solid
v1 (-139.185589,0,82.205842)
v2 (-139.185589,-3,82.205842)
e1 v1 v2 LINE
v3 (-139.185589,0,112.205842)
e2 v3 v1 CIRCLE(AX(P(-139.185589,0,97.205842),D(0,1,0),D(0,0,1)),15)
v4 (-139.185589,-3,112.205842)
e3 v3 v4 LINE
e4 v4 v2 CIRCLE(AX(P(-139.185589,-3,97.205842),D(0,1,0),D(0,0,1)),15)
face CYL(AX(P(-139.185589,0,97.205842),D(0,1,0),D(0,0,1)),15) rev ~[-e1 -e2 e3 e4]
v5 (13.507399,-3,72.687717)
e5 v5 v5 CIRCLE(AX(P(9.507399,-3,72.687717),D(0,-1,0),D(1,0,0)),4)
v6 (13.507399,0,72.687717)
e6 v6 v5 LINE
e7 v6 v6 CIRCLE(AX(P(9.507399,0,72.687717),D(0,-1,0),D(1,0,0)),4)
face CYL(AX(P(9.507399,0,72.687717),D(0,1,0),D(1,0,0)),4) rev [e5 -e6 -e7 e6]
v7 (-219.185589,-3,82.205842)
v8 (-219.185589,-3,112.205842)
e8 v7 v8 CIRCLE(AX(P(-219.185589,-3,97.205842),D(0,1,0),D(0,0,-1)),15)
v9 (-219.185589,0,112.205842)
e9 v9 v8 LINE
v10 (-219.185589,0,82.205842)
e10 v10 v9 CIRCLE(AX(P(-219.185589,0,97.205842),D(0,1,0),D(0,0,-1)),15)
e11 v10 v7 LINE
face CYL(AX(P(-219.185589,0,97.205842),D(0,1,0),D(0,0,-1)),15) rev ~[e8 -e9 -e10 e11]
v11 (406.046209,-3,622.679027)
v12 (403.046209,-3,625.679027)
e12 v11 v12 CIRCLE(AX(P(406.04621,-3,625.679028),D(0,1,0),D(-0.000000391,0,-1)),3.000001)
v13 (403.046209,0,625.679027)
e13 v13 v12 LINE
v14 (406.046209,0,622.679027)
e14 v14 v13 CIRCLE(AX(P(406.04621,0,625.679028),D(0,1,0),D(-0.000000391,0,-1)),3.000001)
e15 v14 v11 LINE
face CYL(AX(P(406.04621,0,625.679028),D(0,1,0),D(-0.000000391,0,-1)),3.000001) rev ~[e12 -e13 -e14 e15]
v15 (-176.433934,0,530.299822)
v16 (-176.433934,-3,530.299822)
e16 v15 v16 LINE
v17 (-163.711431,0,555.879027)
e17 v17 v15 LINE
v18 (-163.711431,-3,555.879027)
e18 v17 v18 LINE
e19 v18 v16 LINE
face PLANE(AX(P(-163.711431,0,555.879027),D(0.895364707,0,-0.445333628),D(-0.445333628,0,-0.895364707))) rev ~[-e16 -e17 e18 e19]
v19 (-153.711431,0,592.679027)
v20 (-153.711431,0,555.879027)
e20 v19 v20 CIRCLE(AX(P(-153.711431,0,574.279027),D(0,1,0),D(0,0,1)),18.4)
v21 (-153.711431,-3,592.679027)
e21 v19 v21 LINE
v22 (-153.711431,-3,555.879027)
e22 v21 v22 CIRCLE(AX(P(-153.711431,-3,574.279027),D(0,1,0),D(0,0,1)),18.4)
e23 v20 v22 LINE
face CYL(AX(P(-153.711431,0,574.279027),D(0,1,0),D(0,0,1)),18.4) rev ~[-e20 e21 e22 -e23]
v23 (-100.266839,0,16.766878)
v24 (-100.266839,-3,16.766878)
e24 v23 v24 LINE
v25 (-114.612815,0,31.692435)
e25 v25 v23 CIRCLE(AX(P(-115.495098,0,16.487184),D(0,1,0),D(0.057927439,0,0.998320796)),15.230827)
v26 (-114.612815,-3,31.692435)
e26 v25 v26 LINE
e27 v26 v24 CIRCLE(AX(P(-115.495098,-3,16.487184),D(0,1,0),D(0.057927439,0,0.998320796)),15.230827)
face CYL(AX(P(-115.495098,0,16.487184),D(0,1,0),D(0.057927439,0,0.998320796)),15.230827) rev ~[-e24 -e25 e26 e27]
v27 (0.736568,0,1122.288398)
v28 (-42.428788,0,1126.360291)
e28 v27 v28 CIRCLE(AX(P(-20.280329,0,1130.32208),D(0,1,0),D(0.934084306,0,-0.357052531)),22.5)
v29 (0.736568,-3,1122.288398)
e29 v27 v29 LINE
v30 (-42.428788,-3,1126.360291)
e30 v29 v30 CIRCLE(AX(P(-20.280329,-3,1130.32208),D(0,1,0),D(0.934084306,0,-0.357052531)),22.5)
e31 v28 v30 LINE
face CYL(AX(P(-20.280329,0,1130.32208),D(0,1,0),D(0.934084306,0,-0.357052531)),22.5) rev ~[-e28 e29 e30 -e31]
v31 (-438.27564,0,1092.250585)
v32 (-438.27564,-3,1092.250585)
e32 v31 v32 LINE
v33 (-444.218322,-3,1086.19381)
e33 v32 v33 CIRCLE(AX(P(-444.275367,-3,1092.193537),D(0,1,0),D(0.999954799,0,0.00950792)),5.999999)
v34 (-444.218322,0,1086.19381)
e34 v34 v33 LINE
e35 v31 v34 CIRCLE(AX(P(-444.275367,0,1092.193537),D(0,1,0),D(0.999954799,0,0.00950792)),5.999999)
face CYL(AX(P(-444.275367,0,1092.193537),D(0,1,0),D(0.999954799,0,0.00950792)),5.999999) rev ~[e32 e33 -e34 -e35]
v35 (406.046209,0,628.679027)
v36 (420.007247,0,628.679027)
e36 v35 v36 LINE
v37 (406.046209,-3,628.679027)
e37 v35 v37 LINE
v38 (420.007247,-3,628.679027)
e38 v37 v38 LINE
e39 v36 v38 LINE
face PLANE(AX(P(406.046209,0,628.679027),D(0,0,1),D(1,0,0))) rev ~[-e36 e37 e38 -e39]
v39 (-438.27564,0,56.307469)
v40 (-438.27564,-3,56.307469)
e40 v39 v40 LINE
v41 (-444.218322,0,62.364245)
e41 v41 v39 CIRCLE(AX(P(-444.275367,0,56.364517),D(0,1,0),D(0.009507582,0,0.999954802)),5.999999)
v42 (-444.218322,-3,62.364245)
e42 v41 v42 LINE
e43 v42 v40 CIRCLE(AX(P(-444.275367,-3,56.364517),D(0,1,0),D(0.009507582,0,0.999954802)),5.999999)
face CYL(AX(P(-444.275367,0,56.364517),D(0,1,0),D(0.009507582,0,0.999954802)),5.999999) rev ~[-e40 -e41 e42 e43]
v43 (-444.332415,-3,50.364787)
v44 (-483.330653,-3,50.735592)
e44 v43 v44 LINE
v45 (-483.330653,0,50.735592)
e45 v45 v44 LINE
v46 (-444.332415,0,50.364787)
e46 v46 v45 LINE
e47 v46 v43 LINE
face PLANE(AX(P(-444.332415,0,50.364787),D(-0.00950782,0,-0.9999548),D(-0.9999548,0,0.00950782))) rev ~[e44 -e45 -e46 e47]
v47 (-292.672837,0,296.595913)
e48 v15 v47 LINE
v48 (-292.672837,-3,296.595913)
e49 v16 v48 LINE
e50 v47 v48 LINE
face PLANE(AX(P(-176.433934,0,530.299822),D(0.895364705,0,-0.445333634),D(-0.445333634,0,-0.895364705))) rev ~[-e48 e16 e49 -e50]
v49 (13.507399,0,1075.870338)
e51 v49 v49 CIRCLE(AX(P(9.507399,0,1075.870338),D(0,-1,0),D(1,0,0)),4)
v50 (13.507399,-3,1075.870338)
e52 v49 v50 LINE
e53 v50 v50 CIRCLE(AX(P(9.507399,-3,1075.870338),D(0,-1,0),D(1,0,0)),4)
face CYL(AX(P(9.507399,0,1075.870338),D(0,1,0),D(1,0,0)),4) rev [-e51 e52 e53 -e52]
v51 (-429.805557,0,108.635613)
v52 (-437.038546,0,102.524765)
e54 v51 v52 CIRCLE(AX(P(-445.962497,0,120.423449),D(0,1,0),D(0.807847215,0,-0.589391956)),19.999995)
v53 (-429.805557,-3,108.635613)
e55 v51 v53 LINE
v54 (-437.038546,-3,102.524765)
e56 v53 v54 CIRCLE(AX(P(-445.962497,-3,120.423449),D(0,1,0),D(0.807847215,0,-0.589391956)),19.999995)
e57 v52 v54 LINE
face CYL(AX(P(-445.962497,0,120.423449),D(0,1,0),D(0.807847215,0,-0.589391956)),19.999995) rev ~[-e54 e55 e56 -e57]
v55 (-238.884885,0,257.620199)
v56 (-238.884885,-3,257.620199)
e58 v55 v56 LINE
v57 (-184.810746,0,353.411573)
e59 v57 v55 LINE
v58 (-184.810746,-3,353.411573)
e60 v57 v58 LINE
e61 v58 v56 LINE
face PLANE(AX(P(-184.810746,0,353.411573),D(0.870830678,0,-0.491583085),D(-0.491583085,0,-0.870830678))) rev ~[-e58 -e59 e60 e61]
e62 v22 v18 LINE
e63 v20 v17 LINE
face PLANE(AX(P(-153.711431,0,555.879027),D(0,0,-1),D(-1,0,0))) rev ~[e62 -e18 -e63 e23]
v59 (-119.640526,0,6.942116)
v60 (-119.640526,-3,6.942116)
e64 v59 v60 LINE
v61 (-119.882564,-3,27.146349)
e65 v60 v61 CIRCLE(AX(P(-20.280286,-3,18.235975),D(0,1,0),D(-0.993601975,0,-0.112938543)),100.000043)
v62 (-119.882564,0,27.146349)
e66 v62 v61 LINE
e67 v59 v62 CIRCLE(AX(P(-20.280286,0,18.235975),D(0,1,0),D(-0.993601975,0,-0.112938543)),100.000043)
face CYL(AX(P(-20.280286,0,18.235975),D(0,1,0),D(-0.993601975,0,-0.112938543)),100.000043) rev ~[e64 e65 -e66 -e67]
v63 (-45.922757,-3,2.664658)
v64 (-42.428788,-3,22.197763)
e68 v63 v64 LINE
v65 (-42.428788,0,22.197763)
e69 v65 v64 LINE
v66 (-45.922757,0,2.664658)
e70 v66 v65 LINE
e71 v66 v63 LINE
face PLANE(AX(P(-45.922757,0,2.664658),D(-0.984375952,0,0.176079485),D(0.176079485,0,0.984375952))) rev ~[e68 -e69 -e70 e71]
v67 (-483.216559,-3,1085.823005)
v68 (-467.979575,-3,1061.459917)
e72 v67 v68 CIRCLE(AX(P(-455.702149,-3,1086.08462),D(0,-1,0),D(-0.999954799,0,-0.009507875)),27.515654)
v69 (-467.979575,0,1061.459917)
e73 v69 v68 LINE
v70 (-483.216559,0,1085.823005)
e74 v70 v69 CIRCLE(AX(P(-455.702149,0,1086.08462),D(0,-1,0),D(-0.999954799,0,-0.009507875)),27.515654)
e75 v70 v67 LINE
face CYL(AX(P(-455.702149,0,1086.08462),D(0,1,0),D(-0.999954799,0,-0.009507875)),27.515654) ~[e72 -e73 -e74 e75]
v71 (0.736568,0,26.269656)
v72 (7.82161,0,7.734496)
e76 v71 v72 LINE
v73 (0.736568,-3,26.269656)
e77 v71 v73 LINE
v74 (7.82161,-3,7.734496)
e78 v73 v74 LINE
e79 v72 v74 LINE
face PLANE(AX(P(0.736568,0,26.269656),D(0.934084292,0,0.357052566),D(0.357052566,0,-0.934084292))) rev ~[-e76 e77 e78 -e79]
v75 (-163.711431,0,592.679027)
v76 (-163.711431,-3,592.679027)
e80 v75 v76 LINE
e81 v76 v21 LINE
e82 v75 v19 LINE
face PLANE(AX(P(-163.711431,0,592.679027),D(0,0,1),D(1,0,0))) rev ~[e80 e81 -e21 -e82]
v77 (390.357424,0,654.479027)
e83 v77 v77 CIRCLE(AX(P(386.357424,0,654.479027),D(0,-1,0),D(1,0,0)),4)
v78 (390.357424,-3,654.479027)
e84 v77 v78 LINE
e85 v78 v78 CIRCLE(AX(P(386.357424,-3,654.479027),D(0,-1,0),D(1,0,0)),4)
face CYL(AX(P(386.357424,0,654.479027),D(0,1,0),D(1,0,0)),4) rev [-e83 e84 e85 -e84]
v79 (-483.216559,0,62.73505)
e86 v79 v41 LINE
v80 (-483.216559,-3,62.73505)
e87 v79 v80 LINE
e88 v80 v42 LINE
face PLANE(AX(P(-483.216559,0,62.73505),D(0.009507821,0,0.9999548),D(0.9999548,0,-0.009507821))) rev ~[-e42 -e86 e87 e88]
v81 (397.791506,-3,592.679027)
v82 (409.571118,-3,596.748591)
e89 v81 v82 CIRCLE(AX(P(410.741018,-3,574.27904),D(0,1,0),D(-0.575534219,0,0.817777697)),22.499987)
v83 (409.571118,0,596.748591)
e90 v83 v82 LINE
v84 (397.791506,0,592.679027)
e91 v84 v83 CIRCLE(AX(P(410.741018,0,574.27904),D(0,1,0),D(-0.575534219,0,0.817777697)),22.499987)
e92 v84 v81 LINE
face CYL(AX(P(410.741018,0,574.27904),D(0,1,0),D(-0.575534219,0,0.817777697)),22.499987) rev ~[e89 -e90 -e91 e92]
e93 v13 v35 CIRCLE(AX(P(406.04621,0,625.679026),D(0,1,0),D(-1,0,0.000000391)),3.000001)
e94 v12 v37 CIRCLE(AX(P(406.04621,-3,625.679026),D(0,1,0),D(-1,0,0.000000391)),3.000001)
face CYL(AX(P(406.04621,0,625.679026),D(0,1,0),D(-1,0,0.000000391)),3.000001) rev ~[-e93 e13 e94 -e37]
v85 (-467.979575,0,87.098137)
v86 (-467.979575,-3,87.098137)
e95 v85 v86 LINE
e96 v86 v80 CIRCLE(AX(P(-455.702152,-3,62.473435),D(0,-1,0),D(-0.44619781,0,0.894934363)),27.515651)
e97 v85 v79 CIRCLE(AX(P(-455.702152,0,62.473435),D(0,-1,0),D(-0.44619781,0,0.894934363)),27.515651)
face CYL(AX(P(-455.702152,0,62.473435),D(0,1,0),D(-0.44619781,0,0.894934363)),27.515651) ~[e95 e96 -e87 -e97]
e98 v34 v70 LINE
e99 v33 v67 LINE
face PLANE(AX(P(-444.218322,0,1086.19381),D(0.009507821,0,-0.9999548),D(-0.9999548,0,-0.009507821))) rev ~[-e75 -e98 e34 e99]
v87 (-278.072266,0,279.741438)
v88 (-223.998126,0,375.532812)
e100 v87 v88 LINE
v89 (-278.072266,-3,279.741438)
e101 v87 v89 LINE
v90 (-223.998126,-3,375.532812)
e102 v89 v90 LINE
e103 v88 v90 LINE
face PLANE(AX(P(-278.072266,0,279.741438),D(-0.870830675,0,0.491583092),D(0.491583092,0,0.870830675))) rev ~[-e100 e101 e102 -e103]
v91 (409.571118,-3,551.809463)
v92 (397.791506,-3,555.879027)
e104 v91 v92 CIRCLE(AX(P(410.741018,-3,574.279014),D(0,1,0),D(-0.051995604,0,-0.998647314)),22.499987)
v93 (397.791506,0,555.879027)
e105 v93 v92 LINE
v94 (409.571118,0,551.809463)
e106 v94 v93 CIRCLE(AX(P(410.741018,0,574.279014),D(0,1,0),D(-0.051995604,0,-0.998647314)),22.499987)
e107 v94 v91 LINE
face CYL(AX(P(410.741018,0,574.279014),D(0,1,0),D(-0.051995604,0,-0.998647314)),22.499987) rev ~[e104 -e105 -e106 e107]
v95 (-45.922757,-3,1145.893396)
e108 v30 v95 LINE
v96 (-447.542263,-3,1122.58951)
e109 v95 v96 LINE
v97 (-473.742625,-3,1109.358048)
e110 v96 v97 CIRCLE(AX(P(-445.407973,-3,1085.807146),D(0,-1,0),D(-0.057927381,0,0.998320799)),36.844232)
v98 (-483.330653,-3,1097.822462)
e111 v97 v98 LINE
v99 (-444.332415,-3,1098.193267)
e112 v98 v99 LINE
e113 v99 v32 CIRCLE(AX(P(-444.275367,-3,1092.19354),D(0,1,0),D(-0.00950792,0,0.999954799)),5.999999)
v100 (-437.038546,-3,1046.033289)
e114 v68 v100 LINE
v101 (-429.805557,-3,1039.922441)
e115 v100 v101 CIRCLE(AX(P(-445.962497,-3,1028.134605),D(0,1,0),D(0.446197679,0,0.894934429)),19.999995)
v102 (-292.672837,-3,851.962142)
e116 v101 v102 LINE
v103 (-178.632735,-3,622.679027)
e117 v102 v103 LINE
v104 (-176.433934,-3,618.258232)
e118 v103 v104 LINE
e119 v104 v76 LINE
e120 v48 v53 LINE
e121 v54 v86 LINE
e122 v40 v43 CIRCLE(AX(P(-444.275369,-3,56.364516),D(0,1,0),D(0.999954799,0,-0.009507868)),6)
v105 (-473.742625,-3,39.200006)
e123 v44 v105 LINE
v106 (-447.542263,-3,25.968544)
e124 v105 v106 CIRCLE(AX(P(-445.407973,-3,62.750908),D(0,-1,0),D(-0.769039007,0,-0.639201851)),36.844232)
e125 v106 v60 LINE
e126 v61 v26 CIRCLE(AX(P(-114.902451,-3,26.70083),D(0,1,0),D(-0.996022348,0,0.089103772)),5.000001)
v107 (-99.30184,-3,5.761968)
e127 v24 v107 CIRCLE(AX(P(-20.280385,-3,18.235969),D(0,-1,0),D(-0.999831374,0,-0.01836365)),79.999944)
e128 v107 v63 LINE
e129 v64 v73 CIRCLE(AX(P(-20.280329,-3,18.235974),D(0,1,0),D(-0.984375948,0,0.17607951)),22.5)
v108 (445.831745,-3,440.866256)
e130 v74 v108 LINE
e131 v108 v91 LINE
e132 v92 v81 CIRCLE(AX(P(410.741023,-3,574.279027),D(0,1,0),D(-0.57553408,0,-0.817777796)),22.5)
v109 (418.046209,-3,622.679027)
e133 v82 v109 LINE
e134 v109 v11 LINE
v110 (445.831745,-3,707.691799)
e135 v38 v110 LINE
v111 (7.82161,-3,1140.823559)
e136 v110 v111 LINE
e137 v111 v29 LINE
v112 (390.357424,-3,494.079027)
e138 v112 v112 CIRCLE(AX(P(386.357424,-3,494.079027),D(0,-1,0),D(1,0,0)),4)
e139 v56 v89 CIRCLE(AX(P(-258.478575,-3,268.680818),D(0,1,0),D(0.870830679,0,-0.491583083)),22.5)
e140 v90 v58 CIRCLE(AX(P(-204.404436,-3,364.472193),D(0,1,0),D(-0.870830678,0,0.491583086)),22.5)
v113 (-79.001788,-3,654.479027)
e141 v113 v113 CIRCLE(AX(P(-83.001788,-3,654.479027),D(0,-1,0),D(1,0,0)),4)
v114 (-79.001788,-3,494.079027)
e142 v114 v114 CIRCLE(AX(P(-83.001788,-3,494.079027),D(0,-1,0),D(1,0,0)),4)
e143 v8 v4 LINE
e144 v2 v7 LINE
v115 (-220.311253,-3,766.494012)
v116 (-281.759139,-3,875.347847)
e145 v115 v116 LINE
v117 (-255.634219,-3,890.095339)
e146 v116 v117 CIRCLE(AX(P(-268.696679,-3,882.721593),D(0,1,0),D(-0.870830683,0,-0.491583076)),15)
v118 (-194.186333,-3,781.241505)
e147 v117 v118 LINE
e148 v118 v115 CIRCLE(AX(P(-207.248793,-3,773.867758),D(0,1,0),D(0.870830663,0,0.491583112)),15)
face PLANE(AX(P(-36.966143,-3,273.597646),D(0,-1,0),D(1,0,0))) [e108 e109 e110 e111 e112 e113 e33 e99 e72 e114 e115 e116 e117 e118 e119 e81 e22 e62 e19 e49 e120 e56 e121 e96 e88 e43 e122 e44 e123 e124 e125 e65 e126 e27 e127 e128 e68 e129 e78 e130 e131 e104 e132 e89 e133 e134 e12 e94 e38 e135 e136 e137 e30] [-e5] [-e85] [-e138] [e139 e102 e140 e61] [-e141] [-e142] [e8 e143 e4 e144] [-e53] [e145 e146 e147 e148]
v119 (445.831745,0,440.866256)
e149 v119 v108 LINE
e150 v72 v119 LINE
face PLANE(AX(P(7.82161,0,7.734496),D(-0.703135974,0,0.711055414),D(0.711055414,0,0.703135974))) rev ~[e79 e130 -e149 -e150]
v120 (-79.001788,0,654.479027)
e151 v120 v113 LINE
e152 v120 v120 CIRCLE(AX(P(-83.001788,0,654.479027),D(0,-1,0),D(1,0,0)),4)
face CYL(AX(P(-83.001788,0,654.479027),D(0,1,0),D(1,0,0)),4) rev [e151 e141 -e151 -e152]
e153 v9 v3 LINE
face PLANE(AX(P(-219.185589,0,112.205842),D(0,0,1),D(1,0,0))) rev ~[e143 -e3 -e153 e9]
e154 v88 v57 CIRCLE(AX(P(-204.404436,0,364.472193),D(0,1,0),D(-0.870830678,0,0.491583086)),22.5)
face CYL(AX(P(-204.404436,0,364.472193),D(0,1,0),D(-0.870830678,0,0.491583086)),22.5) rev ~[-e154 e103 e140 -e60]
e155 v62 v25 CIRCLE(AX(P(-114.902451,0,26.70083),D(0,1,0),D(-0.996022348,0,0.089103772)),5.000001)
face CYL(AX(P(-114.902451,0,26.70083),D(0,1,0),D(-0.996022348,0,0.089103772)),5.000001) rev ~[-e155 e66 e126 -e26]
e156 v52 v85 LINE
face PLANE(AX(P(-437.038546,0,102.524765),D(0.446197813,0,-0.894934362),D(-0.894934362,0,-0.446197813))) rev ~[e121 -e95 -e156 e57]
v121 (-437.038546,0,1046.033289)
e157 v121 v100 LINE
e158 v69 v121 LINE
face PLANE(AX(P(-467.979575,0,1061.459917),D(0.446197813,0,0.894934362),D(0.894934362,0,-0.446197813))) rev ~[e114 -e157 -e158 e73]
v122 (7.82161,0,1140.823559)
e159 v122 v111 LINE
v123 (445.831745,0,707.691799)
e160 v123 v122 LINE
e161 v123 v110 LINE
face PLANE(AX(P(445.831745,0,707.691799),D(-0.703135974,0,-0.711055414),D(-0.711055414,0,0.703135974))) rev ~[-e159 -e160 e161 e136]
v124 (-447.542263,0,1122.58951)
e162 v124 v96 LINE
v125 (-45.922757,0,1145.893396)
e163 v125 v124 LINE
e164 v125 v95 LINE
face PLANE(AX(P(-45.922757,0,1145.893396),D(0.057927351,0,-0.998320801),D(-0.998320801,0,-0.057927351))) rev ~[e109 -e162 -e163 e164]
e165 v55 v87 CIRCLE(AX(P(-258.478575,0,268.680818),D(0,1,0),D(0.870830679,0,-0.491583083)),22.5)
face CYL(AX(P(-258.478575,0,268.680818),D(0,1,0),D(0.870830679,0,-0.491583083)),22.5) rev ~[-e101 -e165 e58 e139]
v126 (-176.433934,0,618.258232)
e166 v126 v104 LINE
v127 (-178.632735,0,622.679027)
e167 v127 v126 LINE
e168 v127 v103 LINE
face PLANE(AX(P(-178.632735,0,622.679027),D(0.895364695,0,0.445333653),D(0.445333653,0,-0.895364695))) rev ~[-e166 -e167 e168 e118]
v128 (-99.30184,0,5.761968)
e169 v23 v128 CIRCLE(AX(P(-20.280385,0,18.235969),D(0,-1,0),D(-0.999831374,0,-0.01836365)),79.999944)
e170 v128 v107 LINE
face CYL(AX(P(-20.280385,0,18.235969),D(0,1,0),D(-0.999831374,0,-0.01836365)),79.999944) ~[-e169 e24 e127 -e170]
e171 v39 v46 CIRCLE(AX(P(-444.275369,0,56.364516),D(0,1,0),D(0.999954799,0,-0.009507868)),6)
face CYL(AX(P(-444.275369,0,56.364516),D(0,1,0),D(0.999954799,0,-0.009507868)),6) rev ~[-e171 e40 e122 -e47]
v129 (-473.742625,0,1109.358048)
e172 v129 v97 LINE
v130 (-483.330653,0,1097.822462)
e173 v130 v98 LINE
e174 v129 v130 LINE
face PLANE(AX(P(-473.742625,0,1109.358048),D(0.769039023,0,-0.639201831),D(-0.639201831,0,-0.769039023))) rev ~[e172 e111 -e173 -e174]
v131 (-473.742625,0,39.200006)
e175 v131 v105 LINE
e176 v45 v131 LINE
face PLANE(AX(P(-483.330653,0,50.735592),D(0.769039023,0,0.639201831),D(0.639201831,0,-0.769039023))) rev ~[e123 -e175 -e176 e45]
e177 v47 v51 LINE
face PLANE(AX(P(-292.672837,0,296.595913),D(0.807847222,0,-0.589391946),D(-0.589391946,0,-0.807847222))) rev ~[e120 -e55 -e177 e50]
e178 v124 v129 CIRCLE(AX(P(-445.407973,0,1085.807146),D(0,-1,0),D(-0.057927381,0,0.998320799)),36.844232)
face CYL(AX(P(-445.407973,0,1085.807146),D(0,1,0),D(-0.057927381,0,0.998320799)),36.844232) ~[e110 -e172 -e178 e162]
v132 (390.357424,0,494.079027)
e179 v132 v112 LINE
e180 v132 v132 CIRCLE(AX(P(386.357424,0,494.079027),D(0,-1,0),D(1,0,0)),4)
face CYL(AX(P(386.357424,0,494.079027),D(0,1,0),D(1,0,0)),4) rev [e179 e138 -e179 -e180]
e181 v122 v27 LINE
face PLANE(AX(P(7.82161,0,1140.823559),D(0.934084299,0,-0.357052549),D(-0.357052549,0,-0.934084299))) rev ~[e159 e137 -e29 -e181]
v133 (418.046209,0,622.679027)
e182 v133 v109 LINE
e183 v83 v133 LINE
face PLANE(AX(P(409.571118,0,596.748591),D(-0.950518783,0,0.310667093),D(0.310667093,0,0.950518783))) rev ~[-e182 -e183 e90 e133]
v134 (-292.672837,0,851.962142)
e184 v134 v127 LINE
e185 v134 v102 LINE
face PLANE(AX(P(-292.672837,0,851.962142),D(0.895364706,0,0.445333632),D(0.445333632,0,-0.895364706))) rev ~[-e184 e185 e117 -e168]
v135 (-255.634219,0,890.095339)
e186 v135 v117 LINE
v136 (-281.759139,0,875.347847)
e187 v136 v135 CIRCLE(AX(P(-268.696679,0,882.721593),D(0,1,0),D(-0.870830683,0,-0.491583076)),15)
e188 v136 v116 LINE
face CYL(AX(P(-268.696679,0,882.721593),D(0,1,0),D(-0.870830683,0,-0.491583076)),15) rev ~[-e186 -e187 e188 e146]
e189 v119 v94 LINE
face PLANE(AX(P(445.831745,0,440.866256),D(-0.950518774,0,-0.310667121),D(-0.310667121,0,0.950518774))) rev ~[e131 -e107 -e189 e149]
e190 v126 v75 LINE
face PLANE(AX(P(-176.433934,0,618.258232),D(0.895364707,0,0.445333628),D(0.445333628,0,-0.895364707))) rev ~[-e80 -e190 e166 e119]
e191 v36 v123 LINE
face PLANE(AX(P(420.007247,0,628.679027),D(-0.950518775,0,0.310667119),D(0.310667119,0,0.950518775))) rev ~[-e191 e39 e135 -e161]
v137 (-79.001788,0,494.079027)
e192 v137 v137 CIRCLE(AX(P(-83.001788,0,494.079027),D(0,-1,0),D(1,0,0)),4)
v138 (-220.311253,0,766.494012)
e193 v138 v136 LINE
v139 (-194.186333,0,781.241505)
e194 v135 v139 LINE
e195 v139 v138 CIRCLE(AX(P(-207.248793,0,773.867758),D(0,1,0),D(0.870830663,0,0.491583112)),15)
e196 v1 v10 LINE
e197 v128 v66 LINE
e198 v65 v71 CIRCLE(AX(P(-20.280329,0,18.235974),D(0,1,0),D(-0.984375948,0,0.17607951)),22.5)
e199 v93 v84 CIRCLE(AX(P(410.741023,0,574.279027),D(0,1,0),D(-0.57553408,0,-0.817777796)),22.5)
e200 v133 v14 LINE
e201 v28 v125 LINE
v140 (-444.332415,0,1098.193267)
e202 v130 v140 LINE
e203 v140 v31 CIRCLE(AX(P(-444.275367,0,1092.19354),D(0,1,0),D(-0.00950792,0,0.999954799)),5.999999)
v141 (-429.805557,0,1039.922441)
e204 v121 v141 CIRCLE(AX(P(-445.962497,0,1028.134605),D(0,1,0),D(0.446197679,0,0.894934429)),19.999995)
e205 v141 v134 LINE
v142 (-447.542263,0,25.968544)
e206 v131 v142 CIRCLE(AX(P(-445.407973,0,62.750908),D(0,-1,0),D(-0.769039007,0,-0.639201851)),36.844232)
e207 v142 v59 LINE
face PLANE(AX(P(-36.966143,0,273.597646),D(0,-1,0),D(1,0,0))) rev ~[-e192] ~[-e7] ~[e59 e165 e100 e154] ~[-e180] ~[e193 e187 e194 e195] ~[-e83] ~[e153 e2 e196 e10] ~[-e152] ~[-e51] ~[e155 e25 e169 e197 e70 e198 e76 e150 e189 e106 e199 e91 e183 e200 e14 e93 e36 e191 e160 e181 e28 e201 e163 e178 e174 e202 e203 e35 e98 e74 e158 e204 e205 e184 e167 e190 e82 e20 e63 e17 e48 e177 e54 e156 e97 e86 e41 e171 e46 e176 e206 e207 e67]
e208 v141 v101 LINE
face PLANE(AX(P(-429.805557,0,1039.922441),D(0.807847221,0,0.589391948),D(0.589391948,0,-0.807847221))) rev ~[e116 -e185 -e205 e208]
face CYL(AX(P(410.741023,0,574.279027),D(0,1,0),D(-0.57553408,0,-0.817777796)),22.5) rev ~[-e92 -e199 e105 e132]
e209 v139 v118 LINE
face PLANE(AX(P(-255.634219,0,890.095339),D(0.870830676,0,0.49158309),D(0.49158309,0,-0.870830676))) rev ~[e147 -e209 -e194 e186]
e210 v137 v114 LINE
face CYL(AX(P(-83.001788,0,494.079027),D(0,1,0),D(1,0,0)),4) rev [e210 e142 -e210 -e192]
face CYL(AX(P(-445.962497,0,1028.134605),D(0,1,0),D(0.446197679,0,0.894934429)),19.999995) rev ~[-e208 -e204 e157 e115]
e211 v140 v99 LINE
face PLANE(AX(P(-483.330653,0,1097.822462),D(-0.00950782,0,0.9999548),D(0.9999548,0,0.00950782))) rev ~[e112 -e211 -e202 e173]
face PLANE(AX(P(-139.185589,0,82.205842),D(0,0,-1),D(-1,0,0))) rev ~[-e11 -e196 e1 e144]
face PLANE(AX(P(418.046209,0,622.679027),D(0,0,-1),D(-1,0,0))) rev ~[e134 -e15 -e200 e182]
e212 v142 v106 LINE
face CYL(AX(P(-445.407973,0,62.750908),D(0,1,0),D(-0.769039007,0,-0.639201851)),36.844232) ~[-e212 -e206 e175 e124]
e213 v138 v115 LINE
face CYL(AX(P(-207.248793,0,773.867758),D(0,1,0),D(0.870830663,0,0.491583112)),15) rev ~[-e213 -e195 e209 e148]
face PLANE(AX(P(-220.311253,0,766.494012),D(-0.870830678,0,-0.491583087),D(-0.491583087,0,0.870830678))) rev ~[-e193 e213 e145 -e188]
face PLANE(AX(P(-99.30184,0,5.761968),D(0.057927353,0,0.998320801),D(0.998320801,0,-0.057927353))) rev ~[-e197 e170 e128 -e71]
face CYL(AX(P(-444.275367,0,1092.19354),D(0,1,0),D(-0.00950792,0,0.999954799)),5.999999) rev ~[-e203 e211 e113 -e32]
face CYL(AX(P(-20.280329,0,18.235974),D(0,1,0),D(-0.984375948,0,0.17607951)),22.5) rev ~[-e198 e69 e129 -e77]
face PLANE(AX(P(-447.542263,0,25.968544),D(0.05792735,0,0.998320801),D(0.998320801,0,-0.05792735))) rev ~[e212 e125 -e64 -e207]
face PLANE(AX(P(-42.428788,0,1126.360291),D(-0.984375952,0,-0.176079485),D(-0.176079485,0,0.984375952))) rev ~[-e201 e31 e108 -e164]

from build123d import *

# Parameters (mm, degrees)
F0_R     = 4
F1_DEPTH = 3


with BuildPart() as f1:
    # F0 (on Front) → F1 (new body)
    with BuildSketch(Plane.XZ):
        with BuildLine():
            ThreePointArc((-42.428788, 22.197763), (-22.393428, 40.636528), (0.736568, 26.269656))
            Line((0.736568, 26.269656), (7.82161, 7.734496))
            Line((7.82161, 7.734496), (445.831745, 440.866256))
            Line((445.831745, 440.866256), (409.571118, 551.809463))
            ThreePointArc((409.571118, 551.809463), (403.393924, 553.012383), (397.791506, 555.879027))
            Line((397.791506, 555.879027), (-153.711431, 555.879027))
            Line((-153.711431, 555.879027), (-163.711431, 555.879027))
            Line((-163.711431, 555.879027), (-176.433934, 530.299822))
            Line((-176.433934, 530.299822), (-292.672837, 296.595913))
            Line((-292.672837, 296.595913), (-429.805557, 108.635613))
            ThreePointArc((-429.805557, 108.635613), (-433.055197, 105.145969), (-437.038546, 102.524765))
            Line((-437.038546, 102.524765), (-467.979575, 87.098137))
            ThreePointArc((-467.979575, 87.098137), (-479.031049, 77.063624), (-483.216559, 62.73505))
            Line((-483.216559, 62.73505), (-444.218322, 62.364245))
            ThreePointArc((-444.218322, 62.364245), (-439.992581, 60.566627), (-438.27564, 56.307469))
            ThreePointArc((-438.27564, 56.307469), (-440.073258, 52.081729), (-444.332415, 50.364787))
            Line((-444.332415, 50.364787), (-483.330653, 50.735592))
            Line((-483.330653, 50.735592), (-473.742625, 39.200006))
            ThreePointArc((-473.742625, 39.200006), (-462.016917, 29.862605), (-447.542263, 25.968544))
            Line((-447.542263, 25.968544), (-119.640526, 6.942116))
            ThreePointArc((-119.640526, 6.942116), (-120.273154, 17.038104), (-119.882564, 27.146349))
            ThreePointArc((-119.882564, 27.146349), (-118.168468, 30.486744), (-114.612815, 31.692435))
            Line((-114.612815, 31.692435), (-99.287074, 30.803162))
            ThreePointArc((-99.287074, 30.803162), (-100.086144, 23.806602), (-100.266839, 16.766878))
            ThreePointArc((-100.266839, 16.766878), (-99.974524, 11.247746), (-99.30184, 5.761968))
            Line((-99.30184, 5.761968), (-45.922757, 2.664658))
            Line((-45.922757, 2.664658), (-42.428788, 22.197763))
        make_face()
        with BuildLine():
            ThreePointArc((-219.185589, 82.205842), (-234.185589, 97.205842), (-219.185589, 112.205842))
            Line((-219.185589, 112.205842), (-139.185589, 112.205842))
            ThreePointArc((-139.185589, 112.205842), (-124.185589, 97.205842), (-139.185589, 82.205842))
            Line((-139.185589, 82.205842), (-219.185589, 82.205842))
        make_face(mode=Mode.SUBTRACT)
        with BuildLine():
            ThreePointArc((-238.884885, 257.620199), (-269.539195, 249.087128), (-278.072266, 279.741438))
            Line((-278.072266, 279.741438), (-223.998126, 375.532812))
            ThreePointArc((-223.998126, 375.532812), (-193.343817, 384.065883), (-184.810746, 353.411573))
            Line((-184.810746, 353.411573), (-238.884885, 257.620199))
        make_face(mode=Mode.SUBTRACT)
        with Locations((-83.001788, 494.079027)):
            Circle(F0_R, mode=Mode.SUBTRACT)
        with Locations((9.507399, 72.687717)):
            Circle(F0_R, mode=Mode.SUBTRACT)
        with Locations((386.357424, 494.079027)):
            Circle(F0_R, mode=Mode.SUBTRACT)
        with BuildLine():
            ThreePointArc((-114.612815, 31.692435), (-104.514185, 27.041692), (-100.266839, 16.766878))
            ThreePointArc((-100.266839, 16.766878), (-100.086144, 23.806602), (-99.287074, 30.803162))
            Line((-99.287074, 30.803162), (-114.612815, 31.692435))
        make_face()
        with BuildLine():
            Line((-153.711431, 555.879027), (397.791506, 555.879027))
            ThreePointArc((397.791506, 555.879027), (388.241023, 574.279027), (397.791506, 592.679027))
            Line((397.791506, 592.679027), (-153.711431, 592.679027))
            ThreePointArc((-153.711431, 592.679027), (-135.311431, 574.279027), (-153.711431, 555.879027))
        make_face()
        with BuildLine():
            Line((-153.711431, 592.679027), (397.791506, 592.679027))
            ThreePointArc((397.791506, 592.679027), (403.393924, 595.545671), (409.571118, 596.748591))
            Line((409.571118, 596.748591), (418.046209, 622.679027))
            Line((418.046209, 622.679027), (406.046209, 622.679027))
            ThreePointArc((406.046209, 622.679027), (403.924889, 623.557707), (403.046209, 625.679027))
            ThreePointArc((403.046209, 625.679027), (403.924889, 627.800347), (406.046209, 628.679027))
            Line((406.046209, 628.679027), (420.007247, 628.679027))
            Line((420.007247, 628.679027), (445.831745, 707.691799))
            Line((445.831745, 707.691799), (7.82161, 1140.823559))
            Line((7.82161, 1140.823559), (0.736568, 1122.288398))
            ThreePointArc((0.736568, 1122.288398), (-22.393428, 1107.921526), (-42.428788, 1126.360291))
            Line((-42.428788, 1126.360291), (-45.922757, 1145.893396))
            Line((-45.922757, 1145.893396), (-447.542263, 1122.58951))
            ThreePointArc((-447.542263, 1122.58951), (-462.016917, 1118.695449), (-473.742625, 1109.358048))
            Line((-473.742625, 1109.358048), (-483.330653, 1097.822462))
            Line((-483.330653, 1097.822462), (-444.332415, 1098.193267))
            ThreePointArc((-444.332415, 1098.193267), (-440.073258, 1096.476326), (-438.27564, 1092.250585))
            ThreePointArc((-438.27564, 1092.250585), (-439.992581, 1087.991428), (-444.218322, 1086.19381))
            Line((-444.218322, 1086.19381), (-483.216559, 1085.823005))
            ThreePointArc((-483.216559, 1085.823005), (-479.031049, 1071.494431), (-467.979575, 1061.459917))
            Line((-467.979575, 1061.459917), (-437.038546, 1046.033289))
            ThreePointArc((-437.038546, 1046.033289), (-433.055197, 1043.412085), (-429.805557, 1039.922441))
            Line((-429.805557, 1039.922441), (-292.672837, 851.962142))
            Line((-292.672837, 851.962142), (-178.632735, 622.679027))
            Line((-178.632735, 622.679027), (-176.433934, 618.258232))
            Line((-176.433934, 618.258232), (-163.711431, 592.679027))
            Line((-163.711431, 592.679027), (-153.711431, 592.679027))
        make_face()
        with Locations((-83.001788, 654.479027)):
            Circle(F0_R, mode=Mode.SUBTRACT)
        with BuildLine():
            ThreePointArc((-281.759139, 875.347847), (-276.070425, 895.784053), (-255.634219, 890.095339))
            Line((-255.634219, 890.095339), (-194.186333, 781.241505))
            ThreePointArc((-194.186333, 781.241505), (-199.875047, 760.805298), (-220.311253, 766.494012))
            Line((-220.311253, 766.494012), (-281.759139, 875.347847))
        make_face(mode=Mode.SUBTRACT)
        with Locations((386.357424, 654.479027)):
            Circle(F0_R, mode=Mode.SUBTRACT)
        with Locations((9.507399, 1075.870338)):
            Circle(F0_R, mode=Mode.SUBTRACT)
    extrude(amount=F1_DEPTH)


solid = f1.part
